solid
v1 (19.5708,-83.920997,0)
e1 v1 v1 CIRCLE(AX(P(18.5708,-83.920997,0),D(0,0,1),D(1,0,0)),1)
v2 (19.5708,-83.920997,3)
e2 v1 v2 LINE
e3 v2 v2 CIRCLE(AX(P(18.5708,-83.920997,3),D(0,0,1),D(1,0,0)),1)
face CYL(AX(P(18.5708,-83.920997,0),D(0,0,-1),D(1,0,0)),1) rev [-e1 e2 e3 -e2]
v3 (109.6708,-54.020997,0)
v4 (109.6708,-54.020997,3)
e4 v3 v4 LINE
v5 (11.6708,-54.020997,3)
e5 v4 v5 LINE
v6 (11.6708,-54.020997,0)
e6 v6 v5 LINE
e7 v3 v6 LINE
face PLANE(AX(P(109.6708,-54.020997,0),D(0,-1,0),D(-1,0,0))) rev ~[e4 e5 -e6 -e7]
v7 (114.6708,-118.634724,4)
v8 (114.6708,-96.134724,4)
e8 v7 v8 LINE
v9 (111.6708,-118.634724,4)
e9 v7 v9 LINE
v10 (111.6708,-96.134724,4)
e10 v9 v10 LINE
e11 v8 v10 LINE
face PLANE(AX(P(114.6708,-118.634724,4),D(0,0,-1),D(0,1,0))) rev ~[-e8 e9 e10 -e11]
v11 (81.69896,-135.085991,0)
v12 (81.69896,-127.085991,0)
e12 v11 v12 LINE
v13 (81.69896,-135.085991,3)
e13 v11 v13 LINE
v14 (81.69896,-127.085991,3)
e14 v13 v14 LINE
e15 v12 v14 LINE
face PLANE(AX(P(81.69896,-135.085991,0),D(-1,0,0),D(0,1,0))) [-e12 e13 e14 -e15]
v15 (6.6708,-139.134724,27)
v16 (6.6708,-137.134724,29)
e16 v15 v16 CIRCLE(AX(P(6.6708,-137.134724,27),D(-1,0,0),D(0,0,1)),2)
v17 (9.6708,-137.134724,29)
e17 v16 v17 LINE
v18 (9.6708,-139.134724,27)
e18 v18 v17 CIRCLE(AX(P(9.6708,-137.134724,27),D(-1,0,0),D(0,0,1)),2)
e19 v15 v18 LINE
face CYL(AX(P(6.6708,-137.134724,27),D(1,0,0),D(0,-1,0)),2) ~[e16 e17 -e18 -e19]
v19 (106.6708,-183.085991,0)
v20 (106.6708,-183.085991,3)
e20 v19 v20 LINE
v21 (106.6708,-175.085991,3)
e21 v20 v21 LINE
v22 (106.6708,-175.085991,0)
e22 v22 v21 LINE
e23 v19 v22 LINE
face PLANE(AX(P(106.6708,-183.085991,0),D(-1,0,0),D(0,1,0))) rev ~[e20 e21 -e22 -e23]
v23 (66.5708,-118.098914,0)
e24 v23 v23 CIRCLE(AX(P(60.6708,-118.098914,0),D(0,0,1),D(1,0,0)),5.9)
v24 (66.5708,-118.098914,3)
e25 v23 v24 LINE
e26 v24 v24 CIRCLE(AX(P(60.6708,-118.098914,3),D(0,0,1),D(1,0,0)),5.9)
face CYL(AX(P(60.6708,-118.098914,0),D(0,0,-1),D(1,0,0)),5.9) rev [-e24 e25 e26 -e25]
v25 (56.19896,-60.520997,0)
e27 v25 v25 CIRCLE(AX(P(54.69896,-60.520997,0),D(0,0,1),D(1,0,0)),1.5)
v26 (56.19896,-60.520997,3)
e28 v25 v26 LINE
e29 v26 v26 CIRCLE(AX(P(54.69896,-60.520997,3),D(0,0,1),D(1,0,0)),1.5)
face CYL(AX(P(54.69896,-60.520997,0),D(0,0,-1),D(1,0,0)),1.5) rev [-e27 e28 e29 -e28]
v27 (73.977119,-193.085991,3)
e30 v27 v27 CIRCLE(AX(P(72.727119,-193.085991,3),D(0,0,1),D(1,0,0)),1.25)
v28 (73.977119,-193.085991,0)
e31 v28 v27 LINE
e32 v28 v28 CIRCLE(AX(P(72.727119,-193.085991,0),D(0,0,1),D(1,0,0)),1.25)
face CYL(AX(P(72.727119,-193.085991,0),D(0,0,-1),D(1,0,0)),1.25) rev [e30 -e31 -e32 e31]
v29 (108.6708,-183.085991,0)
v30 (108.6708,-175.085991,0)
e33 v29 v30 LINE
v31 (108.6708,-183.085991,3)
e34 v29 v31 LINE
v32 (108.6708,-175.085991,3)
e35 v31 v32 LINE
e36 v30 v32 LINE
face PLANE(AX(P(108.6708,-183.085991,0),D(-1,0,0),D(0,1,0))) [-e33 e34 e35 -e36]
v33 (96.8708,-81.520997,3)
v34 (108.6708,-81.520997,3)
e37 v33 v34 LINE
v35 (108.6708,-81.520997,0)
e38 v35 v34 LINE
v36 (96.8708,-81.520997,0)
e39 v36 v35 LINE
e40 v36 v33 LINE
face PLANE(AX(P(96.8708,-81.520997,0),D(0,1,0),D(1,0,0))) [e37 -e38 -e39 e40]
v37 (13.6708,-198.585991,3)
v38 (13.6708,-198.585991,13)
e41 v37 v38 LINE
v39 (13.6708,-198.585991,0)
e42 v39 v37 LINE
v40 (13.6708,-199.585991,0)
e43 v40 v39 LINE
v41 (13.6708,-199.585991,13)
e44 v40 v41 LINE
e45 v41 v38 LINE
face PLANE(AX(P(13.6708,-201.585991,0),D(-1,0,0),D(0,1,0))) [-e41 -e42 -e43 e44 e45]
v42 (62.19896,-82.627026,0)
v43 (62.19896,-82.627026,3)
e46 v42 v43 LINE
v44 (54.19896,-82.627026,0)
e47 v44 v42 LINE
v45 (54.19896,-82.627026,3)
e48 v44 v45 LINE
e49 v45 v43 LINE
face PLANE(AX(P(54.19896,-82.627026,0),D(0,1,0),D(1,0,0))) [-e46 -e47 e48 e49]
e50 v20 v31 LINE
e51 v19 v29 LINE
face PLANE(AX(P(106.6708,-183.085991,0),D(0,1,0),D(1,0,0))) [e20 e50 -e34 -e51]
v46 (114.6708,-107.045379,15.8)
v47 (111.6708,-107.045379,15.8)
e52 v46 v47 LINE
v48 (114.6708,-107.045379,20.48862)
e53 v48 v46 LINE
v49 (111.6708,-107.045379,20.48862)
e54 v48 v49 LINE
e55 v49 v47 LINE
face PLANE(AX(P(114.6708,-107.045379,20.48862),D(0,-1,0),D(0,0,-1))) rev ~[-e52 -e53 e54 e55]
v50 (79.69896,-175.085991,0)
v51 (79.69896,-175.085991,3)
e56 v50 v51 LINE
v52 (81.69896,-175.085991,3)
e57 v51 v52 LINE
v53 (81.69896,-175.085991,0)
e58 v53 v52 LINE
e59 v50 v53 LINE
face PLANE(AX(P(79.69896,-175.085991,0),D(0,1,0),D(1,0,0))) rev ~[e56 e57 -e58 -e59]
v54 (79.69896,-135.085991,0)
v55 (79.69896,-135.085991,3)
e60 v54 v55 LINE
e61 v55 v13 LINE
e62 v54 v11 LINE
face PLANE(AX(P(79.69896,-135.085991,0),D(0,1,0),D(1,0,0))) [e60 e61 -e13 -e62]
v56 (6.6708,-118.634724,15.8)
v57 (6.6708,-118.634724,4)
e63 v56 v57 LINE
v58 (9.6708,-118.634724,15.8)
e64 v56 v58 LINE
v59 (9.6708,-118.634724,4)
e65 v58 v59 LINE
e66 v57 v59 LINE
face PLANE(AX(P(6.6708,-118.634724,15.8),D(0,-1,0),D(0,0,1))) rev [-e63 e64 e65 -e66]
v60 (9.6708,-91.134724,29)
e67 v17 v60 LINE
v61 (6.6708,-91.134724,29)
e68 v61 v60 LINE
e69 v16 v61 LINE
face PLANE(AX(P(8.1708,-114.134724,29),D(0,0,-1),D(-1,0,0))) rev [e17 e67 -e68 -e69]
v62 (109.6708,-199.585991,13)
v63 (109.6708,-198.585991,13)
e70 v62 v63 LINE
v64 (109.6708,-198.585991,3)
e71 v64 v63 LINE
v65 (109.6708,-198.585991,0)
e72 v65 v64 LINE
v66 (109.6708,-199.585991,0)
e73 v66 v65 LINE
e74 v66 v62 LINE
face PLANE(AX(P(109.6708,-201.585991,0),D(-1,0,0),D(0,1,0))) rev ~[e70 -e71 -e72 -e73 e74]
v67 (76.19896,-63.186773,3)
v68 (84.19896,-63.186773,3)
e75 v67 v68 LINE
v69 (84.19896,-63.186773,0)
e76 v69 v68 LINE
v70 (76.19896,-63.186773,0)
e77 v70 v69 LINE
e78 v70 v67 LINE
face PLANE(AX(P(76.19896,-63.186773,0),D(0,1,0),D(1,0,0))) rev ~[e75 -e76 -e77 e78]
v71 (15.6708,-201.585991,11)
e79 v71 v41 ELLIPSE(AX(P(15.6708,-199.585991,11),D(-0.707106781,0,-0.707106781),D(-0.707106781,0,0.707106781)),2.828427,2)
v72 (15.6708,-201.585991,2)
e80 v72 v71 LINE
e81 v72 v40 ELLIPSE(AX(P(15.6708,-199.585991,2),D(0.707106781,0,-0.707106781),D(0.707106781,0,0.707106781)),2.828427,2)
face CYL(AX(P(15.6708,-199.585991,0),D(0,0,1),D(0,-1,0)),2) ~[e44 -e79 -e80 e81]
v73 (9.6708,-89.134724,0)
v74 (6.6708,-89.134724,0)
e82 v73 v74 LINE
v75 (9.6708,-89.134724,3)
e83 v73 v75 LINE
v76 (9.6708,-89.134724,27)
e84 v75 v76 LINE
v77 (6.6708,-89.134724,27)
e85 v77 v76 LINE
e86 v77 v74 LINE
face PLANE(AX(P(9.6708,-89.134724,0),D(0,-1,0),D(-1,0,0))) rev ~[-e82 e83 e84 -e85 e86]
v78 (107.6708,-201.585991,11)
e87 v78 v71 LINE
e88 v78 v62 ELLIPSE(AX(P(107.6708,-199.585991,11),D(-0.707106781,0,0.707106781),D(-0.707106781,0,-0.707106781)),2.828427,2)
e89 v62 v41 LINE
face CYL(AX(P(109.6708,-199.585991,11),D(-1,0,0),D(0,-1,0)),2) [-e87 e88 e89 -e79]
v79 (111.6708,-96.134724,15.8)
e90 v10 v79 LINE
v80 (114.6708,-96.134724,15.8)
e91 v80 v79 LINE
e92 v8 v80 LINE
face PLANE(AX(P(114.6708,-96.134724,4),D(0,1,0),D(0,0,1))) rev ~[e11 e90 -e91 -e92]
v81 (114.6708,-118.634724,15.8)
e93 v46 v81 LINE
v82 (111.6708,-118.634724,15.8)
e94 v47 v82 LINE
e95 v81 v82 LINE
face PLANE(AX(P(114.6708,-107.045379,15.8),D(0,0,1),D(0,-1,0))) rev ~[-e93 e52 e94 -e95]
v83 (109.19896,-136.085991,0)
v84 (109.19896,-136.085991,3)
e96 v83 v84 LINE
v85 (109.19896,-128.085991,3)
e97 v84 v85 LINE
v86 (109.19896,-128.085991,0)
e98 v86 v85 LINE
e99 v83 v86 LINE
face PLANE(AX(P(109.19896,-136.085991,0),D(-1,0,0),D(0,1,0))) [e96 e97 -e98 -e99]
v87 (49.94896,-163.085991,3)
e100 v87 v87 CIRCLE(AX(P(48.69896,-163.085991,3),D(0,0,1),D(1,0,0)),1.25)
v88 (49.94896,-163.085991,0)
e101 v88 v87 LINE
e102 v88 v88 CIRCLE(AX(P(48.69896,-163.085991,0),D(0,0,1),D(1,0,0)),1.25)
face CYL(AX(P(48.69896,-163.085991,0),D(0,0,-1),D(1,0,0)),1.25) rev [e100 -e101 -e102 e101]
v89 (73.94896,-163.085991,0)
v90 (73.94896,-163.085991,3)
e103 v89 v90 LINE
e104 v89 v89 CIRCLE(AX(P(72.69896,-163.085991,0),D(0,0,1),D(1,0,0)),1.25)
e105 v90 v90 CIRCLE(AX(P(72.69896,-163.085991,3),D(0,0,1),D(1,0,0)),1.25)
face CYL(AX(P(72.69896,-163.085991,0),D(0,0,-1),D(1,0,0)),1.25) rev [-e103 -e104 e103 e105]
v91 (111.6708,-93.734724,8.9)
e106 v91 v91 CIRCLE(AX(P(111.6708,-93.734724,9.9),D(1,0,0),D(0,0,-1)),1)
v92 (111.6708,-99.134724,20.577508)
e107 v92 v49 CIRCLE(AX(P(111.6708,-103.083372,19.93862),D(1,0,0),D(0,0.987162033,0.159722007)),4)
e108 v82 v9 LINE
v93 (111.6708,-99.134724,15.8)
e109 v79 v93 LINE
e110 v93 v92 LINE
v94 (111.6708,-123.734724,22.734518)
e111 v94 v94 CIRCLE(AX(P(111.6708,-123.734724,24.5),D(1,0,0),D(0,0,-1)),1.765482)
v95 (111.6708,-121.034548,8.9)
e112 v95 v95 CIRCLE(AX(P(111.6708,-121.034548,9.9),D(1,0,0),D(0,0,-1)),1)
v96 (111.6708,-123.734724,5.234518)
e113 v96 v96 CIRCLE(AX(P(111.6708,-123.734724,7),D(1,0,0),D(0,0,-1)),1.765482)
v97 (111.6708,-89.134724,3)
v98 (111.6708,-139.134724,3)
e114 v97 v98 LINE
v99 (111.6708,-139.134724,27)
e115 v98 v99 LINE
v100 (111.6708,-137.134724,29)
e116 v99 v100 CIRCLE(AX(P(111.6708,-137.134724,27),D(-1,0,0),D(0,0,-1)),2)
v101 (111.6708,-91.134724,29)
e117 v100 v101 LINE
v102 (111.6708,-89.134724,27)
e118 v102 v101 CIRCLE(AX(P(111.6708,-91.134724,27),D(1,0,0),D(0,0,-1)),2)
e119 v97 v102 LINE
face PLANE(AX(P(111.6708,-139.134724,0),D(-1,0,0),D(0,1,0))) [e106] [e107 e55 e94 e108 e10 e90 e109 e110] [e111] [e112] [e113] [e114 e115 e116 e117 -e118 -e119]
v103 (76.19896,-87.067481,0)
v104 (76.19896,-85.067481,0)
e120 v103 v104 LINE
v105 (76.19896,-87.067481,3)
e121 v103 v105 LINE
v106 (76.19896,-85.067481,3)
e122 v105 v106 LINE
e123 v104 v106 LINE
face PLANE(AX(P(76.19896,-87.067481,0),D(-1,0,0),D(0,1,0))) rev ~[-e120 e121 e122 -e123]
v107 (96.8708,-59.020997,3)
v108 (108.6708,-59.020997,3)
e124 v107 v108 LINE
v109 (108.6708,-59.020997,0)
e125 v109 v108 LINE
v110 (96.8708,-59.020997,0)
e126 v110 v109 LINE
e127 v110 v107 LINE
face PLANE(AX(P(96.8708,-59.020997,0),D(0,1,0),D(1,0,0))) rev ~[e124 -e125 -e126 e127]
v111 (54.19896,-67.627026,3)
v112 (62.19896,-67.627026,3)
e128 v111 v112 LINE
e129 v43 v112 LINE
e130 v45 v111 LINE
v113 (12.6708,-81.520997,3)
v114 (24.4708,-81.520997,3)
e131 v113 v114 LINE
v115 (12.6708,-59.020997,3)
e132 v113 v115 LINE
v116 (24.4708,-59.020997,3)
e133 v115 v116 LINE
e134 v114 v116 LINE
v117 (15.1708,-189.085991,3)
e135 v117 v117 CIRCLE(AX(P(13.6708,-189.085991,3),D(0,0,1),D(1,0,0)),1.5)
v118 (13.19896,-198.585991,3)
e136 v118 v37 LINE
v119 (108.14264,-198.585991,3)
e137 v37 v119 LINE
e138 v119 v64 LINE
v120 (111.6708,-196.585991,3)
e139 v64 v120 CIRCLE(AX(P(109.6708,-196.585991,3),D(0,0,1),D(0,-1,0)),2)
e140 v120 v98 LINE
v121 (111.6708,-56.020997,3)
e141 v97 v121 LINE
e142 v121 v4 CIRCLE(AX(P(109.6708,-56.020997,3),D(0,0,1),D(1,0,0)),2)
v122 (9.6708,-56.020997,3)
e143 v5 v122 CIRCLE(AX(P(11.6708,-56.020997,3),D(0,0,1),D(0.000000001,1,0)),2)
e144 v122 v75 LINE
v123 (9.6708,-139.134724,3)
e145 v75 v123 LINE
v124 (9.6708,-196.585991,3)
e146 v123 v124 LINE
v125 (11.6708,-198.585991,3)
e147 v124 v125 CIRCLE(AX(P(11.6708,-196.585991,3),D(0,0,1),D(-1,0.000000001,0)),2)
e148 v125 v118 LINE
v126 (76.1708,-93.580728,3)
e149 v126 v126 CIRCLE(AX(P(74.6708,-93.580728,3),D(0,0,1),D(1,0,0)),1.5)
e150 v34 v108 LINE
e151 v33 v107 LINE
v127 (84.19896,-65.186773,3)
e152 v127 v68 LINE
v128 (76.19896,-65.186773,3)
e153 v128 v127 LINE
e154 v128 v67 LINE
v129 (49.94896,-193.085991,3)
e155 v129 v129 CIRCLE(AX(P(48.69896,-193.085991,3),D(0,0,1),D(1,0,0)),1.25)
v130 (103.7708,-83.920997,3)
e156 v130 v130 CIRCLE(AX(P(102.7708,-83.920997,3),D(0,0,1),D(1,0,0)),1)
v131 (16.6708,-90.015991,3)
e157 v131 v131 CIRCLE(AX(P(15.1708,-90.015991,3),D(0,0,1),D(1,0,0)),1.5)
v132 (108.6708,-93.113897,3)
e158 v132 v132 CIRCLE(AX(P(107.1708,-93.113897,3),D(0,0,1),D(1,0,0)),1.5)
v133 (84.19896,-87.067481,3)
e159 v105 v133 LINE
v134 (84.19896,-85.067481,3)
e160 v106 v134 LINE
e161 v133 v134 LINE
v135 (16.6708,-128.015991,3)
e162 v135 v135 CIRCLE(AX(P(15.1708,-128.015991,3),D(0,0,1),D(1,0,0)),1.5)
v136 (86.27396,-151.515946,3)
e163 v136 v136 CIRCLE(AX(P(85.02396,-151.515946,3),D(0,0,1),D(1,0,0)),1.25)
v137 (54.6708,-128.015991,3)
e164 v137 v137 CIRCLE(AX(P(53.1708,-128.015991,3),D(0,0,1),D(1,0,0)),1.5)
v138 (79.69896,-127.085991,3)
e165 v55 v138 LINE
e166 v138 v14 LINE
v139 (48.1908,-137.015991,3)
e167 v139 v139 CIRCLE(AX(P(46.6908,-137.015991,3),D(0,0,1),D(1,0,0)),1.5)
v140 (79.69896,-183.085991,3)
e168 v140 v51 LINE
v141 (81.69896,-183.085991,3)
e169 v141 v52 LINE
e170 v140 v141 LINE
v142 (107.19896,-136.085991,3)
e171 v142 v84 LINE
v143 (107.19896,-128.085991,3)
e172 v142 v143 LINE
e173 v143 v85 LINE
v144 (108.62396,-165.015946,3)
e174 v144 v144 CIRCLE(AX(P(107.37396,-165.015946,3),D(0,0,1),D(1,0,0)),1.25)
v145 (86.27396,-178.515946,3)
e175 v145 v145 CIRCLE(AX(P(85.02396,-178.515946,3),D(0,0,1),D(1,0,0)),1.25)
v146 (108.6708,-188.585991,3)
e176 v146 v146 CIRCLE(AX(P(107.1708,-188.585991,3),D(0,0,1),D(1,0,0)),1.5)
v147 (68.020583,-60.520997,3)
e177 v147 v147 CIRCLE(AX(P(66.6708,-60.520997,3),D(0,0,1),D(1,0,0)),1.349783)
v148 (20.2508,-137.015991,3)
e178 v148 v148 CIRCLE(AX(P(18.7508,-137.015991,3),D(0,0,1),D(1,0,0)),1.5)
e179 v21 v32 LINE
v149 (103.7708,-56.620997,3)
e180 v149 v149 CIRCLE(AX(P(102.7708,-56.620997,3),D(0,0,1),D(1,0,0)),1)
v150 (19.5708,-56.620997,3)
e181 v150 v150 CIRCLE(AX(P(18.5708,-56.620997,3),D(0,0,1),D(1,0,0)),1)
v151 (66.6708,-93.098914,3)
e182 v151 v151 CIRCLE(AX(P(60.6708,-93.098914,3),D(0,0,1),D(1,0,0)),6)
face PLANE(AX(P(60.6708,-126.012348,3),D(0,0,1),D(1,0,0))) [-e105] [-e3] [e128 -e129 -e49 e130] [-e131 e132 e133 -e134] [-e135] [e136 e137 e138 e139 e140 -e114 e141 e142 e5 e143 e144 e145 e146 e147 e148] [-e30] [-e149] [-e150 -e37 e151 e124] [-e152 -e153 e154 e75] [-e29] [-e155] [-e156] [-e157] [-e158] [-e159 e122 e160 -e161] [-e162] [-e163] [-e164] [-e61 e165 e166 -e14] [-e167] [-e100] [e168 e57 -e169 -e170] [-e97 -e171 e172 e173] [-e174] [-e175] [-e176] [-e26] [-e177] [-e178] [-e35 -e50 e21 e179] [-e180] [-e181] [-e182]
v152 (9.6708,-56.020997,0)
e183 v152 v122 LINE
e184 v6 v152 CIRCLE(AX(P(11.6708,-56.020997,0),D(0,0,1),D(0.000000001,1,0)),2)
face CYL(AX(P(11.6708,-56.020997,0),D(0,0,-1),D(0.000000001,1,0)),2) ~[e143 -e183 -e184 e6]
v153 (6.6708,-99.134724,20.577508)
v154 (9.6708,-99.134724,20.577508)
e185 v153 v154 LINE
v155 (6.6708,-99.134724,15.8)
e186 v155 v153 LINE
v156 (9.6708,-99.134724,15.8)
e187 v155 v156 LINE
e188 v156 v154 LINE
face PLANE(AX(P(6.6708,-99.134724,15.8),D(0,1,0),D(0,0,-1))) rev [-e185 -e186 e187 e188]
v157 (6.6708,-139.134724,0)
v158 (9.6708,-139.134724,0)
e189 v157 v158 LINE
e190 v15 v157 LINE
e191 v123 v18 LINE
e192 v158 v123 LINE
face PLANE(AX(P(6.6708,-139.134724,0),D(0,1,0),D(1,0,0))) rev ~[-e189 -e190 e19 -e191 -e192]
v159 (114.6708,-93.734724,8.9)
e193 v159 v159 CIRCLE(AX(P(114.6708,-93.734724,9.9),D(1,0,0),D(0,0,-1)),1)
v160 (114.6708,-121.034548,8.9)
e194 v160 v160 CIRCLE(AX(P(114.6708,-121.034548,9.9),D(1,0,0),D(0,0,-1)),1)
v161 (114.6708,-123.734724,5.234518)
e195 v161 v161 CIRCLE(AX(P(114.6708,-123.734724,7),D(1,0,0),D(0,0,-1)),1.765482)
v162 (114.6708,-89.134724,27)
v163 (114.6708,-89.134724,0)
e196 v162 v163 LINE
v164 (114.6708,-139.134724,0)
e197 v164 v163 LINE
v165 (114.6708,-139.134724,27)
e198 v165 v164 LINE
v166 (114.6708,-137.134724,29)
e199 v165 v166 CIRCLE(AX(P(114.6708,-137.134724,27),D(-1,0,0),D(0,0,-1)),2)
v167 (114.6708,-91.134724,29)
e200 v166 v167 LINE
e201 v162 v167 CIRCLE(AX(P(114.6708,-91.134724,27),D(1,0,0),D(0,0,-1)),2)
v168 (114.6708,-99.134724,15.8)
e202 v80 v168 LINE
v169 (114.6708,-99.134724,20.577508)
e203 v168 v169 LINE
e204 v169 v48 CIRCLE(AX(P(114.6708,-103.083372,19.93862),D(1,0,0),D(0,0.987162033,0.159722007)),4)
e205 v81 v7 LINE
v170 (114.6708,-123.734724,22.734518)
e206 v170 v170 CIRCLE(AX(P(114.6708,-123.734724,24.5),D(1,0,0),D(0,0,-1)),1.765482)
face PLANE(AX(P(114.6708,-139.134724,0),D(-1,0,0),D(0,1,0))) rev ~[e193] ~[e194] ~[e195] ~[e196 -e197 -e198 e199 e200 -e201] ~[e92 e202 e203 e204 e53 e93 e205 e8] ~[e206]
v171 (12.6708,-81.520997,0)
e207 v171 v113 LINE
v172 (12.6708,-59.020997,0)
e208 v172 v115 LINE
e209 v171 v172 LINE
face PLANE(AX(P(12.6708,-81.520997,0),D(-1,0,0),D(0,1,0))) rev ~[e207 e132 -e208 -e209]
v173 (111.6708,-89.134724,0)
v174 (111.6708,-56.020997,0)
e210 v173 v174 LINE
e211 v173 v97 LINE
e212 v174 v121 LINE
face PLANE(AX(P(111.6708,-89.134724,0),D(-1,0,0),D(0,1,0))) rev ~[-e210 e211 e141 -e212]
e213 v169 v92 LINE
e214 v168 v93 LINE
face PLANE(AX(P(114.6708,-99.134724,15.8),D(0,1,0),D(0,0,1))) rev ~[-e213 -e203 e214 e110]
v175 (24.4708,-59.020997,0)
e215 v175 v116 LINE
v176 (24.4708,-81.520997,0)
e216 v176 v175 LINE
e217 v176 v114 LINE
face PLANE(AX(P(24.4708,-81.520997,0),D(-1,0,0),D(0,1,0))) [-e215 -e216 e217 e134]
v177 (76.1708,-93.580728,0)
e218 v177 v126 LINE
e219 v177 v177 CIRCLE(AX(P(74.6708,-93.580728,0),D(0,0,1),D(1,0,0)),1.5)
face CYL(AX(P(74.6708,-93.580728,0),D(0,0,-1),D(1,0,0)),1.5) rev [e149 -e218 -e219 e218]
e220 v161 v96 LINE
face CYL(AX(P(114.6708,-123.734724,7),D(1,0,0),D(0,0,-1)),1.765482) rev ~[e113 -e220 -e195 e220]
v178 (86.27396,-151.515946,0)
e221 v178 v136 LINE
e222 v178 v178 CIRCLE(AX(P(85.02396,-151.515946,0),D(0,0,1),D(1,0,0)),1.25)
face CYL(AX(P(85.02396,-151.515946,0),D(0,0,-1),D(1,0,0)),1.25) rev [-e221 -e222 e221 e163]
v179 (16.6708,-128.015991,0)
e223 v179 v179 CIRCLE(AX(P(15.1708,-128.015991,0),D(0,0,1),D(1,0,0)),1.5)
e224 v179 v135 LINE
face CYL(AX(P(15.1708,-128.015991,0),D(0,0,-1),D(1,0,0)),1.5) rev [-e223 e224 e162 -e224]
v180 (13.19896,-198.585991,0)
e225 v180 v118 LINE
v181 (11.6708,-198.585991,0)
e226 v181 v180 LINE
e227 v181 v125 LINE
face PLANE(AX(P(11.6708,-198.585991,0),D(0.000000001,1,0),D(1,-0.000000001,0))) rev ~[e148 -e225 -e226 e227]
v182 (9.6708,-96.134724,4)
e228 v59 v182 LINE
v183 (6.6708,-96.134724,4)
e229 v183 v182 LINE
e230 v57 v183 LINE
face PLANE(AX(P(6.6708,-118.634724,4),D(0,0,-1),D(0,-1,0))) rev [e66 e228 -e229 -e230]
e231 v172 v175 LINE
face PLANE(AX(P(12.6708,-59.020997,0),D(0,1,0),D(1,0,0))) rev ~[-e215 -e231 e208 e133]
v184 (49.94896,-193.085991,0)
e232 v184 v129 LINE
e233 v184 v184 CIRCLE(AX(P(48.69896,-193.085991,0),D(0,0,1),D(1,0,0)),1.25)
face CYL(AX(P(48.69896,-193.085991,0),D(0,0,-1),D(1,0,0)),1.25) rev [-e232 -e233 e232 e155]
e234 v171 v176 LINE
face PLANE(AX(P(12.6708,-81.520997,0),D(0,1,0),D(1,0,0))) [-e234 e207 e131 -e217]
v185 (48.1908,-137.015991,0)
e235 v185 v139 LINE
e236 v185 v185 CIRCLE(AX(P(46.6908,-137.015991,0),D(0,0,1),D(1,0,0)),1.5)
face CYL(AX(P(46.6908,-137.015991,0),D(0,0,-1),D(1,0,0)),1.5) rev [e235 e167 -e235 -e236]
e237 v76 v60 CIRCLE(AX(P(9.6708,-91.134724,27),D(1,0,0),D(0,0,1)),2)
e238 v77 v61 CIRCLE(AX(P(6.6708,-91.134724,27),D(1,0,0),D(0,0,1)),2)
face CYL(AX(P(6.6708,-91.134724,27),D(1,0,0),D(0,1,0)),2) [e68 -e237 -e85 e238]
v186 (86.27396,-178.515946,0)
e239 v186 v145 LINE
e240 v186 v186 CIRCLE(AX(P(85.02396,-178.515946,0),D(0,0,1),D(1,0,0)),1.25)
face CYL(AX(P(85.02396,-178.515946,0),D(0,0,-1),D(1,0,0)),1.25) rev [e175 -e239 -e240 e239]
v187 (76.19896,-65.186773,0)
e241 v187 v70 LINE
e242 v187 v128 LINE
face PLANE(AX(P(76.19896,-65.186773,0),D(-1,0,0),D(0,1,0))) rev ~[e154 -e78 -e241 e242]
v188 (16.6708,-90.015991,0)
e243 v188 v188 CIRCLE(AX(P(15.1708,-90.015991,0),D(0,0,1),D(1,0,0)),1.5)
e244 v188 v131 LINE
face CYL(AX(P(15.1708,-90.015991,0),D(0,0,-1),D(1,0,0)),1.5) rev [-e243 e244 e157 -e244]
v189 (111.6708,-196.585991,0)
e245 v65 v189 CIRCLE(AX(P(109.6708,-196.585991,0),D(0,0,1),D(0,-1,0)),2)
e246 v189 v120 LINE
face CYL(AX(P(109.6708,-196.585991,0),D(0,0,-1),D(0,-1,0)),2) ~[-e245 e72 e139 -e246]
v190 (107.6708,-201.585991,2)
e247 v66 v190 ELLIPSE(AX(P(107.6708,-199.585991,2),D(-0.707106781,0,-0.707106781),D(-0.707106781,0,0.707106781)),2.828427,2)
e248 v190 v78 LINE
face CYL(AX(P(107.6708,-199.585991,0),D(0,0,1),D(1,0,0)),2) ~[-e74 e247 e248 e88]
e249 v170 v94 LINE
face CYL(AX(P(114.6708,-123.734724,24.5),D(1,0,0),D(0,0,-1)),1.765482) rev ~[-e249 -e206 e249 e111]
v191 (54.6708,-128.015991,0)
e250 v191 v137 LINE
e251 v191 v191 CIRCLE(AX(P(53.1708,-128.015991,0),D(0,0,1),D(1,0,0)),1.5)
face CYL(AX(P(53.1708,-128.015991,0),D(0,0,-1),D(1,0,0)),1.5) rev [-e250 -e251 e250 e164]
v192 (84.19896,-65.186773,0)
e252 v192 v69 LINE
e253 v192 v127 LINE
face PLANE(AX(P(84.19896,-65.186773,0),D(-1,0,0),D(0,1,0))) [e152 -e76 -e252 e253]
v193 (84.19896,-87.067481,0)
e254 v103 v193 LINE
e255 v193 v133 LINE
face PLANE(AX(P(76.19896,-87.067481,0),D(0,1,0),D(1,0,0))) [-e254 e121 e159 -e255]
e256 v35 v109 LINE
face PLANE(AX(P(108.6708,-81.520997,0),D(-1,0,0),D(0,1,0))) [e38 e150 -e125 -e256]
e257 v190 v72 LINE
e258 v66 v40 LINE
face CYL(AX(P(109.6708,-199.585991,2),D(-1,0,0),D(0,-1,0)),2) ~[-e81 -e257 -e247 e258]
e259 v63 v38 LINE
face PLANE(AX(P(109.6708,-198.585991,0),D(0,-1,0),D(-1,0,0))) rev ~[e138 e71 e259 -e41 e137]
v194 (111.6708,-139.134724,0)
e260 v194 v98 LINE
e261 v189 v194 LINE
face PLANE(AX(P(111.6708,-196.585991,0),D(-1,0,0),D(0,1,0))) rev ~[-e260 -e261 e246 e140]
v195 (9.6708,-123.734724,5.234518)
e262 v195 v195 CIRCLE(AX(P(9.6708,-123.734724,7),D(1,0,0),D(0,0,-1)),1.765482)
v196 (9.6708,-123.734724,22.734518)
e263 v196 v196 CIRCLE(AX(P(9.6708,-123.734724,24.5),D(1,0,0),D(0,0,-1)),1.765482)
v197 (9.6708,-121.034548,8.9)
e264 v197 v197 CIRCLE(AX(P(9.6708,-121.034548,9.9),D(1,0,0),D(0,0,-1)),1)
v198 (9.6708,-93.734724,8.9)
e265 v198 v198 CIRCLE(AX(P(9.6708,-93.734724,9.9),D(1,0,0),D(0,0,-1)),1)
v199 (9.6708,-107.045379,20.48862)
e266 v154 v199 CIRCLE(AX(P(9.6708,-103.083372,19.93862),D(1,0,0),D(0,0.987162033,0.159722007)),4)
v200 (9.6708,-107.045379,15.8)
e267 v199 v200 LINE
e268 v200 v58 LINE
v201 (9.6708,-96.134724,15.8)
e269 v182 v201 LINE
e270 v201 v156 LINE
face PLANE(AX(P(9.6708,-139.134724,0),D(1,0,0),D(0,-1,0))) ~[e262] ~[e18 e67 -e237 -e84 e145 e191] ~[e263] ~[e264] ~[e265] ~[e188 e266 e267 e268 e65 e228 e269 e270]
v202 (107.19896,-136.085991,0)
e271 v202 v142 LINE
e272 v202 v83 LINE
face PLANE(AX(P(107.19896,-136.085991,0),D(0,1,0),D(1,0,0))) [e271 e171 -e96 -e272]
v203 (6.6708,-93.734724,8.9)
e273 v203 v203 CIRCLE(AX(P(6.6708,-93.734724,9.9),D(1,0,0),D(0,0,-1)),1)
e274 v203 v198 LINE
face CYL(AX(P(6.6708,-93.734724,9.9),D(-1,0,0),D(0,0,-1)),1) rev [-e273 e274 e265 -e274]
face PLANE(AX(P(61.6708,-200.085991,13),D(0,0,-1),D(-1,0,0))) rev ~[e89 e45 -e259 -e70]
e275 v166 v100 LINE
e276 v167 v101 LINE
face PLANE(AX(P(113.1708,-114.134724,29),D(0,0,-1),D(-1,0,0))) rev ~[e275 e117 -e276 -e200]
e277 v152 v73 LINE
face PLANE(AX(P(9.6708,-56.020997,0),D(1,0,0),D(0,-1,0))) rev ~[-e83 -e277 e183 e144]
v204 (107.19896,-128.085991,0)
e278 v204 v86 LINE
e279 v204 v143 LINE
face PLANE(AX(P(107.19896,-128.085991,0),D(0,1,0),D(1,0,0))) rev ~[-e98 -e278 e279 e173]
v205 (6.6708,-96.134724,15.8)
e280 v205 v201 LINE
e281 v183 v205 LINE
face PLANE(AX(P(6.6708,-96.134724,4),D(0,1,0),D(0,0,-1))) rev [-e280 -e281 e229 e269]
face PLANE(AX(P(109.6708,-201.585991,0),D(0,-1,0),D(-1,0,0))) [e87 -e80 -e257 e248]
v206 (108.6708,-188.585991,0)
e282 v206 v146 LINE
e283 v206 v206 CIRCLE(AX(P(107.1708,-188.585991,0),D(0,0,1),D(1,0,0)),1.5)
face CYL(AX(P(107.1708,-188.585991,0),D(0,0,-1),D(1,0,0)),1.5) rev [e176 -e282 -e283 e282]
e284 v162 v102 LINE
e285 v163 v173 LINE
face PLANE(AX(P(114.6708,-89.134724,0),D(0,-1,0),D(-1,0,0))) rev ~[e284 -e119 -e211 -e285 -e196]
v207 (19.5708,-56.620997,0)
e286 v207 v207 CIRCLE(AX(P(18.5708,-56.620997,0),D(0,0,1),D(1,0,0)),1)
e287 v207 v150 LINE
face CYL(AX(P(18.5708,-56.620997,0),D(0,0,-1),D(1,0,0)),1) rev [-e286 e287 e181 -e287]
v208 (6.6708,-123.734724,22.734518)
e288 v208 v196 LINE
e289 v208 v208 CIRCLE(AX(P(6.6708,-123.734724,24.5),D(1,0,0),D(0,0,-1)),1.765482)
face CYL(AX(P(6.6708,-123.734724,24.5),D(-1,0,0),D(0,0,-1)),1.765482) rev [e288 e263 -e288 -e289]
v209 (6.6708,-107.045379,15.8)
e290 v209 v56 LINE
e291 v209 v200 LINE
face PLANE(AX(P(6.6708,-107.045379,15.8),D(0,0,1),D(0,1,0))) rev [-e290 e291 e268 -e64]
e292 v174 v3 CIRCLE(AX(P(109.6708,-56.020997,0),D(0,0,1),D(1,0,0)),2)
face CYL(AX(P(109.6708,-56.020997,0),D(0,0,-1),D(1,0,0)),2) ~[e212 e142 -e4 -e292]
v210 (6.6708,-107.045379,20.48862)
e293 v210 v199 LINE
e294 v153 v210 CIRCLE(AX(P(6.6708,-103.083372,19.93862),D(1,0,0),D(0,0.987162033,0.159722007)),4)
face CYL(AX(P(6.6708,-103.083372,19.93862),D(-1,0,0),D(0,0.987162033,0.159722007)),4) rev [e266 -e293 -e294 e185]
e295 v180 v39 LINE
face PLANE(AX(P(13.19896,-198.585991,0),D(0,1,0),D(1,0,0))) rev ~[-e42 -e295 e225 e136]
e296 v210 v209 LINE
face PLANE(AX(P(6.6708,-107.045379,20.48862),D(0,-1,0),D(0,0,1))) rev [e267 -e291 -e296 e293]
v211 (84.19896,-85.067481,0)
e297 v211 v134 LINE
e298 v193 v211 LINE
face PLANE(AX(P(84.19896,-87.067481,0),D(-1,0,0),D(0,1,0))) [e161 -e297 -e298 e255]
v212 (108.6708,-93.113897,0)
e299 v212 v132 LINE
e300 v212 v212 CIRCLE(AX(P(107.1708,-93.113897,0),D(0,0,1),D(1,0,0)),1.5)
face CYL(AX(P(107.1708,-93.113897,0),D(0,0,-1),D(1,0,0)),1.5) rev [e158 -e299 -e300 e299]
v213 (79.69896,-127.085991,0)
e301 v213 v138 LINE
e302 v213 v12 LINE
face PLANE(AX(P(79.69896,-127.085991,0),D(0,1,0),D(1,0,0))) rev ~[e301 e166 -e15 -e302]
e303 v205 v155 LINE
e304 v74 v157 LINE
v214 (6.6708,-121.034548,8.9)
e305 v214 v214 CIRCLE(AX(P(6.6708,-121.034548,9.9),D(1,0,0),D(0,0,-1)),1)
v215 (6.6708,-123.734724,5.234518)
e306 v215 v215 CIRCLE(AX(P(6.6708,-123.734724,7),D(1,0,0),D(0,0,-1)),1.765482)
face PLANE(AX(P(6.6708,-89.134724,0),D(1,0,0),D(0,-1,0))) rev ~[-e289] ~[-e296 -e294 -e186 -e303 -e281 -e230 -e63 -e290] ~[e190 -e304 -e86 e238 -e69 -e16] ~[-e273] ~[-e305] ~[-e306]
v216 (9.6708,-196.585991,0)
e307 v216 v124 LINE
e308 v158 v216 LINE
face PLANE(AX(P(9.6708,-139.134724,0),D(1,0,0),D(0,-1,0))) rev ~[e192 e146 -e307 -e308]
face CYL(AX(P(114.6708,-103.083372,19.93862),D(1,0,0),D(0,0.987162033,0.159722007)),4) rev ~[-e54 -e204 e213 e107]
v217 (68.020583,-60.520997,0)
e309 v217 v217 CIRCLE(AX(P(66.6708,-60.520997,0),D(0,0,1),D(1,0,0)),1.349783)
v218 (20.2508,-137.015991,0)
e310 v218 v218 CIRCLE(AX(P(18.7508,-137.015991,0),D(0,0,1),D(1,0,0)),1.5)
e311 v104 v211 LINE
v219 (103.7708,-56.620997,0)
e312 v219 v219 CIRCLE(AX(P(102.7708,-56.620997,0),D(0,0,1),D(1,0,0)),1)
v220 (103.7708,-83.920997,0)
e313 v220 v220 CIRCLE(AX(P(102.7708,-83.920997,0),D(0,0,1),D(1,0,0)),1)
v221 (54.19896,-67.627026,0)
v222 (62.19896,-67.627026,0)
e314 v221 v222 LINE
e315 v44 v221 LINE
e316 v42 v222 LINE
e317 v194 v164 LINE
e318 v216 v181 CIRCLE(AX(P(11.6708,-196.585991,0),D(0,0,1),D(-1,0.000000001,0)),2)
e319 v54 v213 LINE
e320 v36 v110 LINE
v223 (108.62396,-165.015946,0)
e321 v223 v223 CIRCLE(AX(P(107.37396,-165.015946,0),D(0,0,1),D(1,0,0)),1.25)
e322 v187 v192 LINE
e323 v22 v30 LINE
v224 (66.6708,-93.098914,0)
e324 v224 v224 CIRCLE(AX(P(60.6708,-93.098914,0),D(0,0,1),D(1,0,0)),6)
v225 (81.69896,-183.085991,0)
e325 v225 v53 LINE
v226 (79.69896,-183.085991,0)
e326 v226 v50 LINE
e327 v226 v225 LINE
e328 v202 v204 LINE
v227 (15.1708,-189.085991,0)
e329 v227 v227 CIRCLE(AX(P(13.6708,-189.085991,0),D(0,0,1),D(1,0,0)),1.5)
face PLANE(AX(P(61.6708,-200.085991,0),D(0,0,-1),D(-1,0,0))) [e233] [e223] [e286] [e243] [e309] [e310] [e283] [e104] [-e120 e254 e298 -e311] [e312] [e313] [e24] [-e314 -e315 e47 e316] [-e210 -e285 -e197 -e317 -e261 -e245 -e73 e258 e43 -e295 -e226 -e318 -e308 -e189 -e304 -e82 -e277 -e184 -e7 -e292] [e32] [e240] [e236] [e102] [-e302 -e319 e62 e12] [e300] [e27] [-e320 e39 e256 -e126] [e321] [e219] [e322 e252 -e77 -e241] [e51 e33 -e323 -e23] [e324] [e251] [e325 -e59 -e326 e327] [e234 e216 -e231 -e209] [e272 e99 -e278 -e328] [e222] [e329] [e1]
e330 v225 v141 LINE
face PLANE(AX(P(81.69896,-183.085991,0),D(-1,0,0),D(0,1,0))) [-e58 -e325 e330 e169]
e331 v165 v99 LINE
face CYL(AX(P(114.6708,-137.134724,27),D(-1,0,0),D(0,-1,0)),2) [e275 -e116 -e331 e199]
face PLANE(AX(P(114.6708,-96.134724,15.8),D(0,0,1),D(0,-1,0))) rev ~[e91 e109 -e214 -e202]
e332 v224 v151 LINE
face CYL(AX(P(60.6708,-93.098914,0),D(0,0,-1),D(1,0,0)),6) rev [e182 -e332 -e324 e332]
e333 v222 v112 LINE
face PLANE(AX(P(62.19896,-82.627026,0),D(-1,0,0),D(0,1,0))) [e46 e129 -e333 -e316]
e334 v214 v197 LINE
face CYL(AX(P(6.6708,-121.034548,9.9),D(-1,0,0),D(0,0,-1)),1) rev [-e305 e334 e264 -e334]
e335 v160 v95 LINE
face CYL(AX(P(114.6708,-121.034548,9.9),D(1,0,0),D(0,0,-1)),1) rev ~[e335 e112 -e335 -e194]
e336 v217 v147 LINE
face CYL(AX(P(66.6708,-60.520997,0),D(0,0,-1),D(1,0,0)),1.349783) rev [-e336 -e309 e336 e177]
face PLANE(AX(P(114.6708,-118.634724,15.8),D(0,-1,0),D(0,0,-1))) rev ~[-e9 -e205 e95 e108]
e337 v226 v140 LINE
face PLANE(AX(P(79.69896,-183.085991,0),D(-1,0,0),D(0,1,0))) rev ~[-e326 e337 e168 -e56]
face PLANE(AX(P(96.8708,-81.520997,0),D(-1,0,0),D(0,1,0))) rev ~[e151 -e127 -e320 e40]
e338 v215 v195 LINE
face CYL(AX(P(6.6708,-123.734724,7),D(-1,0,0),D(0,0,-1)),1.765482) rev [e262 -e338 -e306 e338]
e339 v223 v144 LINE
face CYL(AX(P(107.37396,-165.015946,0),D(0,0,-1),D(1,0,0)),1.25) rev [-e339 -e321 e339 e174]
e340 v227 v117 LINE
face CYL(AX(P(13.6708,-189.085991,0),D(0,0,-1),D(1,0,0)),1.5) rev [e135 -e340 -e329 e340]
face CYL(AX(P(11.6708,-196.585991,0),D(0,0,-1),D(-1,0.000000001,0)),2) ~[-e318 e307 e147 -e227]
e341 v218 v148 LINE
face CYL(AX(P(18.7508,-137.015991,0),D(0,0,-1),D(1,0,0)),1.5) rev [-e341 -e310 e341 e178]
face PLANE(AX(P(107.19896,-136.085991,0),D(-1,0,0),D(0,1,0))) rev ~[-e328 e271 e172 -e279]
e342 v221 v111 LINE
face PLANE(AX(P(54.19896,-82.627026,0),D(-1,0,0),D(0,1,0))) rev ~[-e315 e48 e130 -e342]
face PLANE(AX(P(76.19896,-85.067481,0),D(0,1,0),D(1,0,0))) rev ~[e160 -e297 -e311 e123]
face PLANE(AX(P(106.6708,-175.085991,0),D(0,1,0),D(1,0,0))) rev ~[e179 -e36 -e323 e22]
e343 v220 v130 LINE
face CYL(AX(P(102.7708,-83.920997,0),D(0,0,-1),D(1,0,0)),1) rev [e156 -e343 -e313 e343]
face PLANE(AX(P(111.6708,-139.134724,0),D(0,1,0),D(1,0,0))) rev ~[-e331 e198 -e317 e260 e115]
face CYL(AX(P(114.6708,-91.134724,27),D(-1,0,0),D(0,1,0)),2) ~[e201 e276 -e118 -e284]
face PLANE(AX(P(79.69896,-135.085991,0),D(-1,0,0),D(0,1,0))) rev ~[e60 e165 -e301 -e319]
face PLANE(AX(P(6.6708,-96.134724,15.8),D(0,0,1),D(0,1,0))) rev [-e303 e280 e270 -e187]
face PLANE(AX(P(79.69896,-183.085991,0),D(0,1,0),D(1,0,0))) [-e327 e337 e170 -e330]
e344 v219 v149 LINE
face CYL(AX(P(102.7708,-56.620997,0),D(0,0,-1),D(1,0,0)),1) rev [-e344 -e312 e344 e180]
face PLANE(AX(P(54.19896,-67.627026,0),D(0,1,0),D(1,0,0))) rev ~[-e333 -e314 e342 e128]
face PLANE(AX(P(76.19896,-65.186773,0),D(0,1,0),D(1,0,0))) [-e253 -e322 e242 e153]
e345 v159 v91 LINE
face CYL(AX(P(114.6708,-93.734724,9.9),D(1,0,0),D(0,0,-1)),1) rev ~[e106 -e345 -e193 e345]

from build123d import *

# Parameters (mm, degrees)
MODEL_R                  = 1.5
MODEL_R_2                = 1
MODEL_R_3                = 6
MODEL_R_4                = 1.25
MODEL_R_5                = 1.349782665
MODEL_R_6                = 5.9
MODEL_W                  = 8
MODEL_H                  = 15
MODEL_H_2                = 2
MODEL_W_2                = 11.8
MODEL_H_3                = 22.5
MODEL_W_3                = 2
MODEL_H_4                = 8
MODEL_H_5                = 7.999999999
SALIENTE_EXTRUIR1_DEPTH  = 3
CROQUIS2_W               = 3
CROQUIS2_H               = 50
SALIENTE_EXTRUIR2_DEPTH  = 29
CROQUIS3_R               = 1.765481919
CROQUIS3_R_2             = 1
CORTAR_EXTRUIR1_DEPTH    = 3
REDONDEO1_R              = 2
REDONDEO1_OF_SIMETR_A1_R = 2
CROQUIS4_W               = 96
CROQUIS4_H               = 3
SALIENTE_EXTRUIR3_DEPTH  = 13
REDONDEO2_R              = 2


with BuildPart() as part:
    # Model → Saliente-Extruir1 (new body)
    with BuildSketch(Plane.XY):
        with BuildLine():
            Line((13.198959583, -198.58599061), (108.142640241, -198.58599061))
            Line((108.142640241, -198.58599061), (109.670799912, -198.585990609))
            ThreePointArc((109.670799912, -198.585990609), (111.085013474, -198.000204172), (111.670799912, -196.58599061))
            Line((111.670799912, -196.58599061), (111.670799912, -139.134723681))
            Line((111.670799912, -139.134723681), (114.670799912, -139.134723681))
            Line((114.670799912, -139.134723681), (114.670799912, -89.134723681))
            Line((114.670799912, -89.134723681), (111.670799912, -89.134723681))
            Line((111.670799912, -89.134723681), (111.670799912, -56.020997464))
            ThreePointArc((111.670799912, -56.020997464), (111.085013474, -54.606783901), (109.670799912, -54.020997464))
            Line((109.670799912, -54.020997464), (77.898959582, -54.020997464))
            Line((77.898959582, -54.020997464), (43.555278924, -54.020997464))
            Line((43.555278924, -54.020997464), (11.670799912, -54.020997464))
            ThreePointArc((11.670799912, -54.020997464), (10.256586349, -54.606783901), (9.670799912, -56.020997464))
            Line((9.670799912, -56.020997464), (9.670799912, -89.134723681))
            Line((9.670799912, -89.134723681), (6.670799912, -89.134723681))
            Line((6.670799912, -89.134723681), (6.670799912, -139.134723681))
            Line((6.670799912, -139.134723681), (9.670799912, -139.134723681))
            Line((9.670799912, -139.134723681), (9.670799912, -196.585990609))
            ThreePointArc((9.670799912, -196.585990609), (10.256586349, -198.000204172), (11.670799912, -198.585990609))
            Line((11.670799912, -198.585990609), (13.198959583, -198.58599061))
        make_face()
        with Locations((107.170799912, -93.113896801)):
            Circle(MODEL_R, mode=Mode.SUBTRACT)
        with Locations((102.770799912, -56.620997464)):
            Circle(MODEL_R_2, mode=Mode.SUBTRACT)
        with Locations((102.770799912, -83.920997464)):
            Circle(MODEL_R_2, mode=Mode.SUBTRACT)
        with Locations((18.570799912, -83.920997464)):
            Circle(MODEL_R_2, mode=Mode.SUBTRACT)
        with Locations((18.570799912, -56.620997464)):
            Circle(MODEL_R_2, mode=Mode.SUBTRACT)
        with Locations((60.670799912, -93.098913634)):
            Circle(MODEL_R_3, mode=Mode.SUBTRACT)
        with Locations((15.170799912, -90.015990609)):
            Circle(MODEL_R, mode=Mode.SUBTRACT)
        with Locations((46.690799912, -137.01599061)):
            Circle(MODEL_R, mode=Mode.SUBTRACT)
        with Locations((18.750799912, -137.01599061)):
            Circle(MODEL_R, mode=Mode.SUBTRACT)
        with Locations((13.670799912, -189.085990609)):
            Circle(MODEL_R, mode=Mode.SUBTRACT)
        with Locations((53.170799912, -128.015990609)):
            Circle(MODEL_R, mode=Mode.SUBTRACT)
        with Locations((15.170799912, -128.015990609)):
            Circle(MODEL_R, mode=Mode.SUBTRACT)
        with Locations((107.373959583, -165.015945956)):
            Circle(MODEL_R_4, mode=Mode.SUBTRACT)
        with Locations((85.023959582, -151.515945956)):
            Circle(MODEL_R_4, mode=Mode.SUBTRACT)
        with Locations((85.023959582, -178.515945956)):
            Circle(MODEL_R_4, mode=Mode.SUBTRACT)
        with Locations((66.670799912, -60.520997464)):
            Circle(MODEL_R_5, mode=Mode.SUBTRACT)
        with Locations((107.170799912, -188.585990609)):
            Circle(MODEL_R, mode=Mode.SUBTRACT)
        with Locations((74.670799912, -93.580727597)):
            Circle(MODEL_R, mode=Mode.SUBTRACT)
        with Locations((60.670799912, -118.098913634)):
            Circle(MODEL_R_6, mode=Mode.SUBTRACT)
        with Locations((54.698959583, -60.520997464)):
            Circle(MODEL_R, mode=Mode.SUBTRACT)
        with Locations((48.698959583, -193.085990609)):
            Circle(MODEL_R_4, mode=Mode.SUBTRACT)
        with Locations((72.727119253, -193.085990609)):
            Circle(MODEL_R_4, mode=Mode.SUBTRACT)
        with Locations((72.698959582, -163.085990609)):
            Circle(MODEL_R_4, mode=Mode.SUBTRACT)
        with Locations((48.698959583, -163.085990609)):
            Circle(MODEL_R_4, mode=Mode.SUBTRACT)
        with Locations((58.198959582, -75.127025732)):
            Rectangle(MODEL_W, MODEL_H, mode=Mode.SUBTRACT)
        with Locations((80.198959582, -64.186772947)):
            Rectangle(MODEL_W, MODEL_H_2, mode=Mode.SUBTRACT)
        with Locations((80.198959582, -86.067481229)):
            Rectangle(MODEL_W, MODEL_H_2, mode=Mode.SUBTRACT)
        with Locations((102.770799912, -70.270997464)):
            Rectangle(MODEL_W_2, MODEL_H_3, mode=Mode.SUBTRACT)
        with Locations((18.570799912, -70.270997464)):
            Rectangle(MODEL_W_2, MODEL_H_3, mode=Mode.SUBTRACT)
        with Locations((80.698959582, -179.08599061)):
            Rectangle(MODEL_W_3, MODEL_H_4, mode=Mode.SUBTRACT)
        with Locations((107.670799912, -179.08599061)):
            Rectangle(MODEL_W_3, MODEL_H_5, mode=Mode.SUBTRACT)
        with Locations((80.698959582, -131.08599061)):
            Rectangle(MODEL_W_3, MODEL_H_4, mode=Mode.SUBTRACT)
        with Locations((108.198959582, -132.085990609)):
            Rectangle(MODEL_W_3, MODEL_H_4, mode=Mode.SUBTRACT)
    extrude(amount=SALIENTE_EXTRUIR1_DEPTH)

    # Croquis2 → Saliente-Extruir2 (add)
    with BuildSketch(Plane(origin=(0, 0, 0), x_dir=(-1, 0, 0), z_dir=(0, 0, -1))):
        with Locations((-113.170799912, -114.134723681)):
            Rectangle(CROQUIS2_W, CROQUIS2_H)
    saliente_extruir2 = extrude(amount=-SALIENTE_EXTRUIR2_DEPTH)

    # Croquis3 → Cortar-Extruir1 (cut)
    with BuildSketch(Plane(origin=(114.670799912, 0, 0), x_dir=(0, 0, -1), z_dir=(1, 0, 0))):
        with Locations((-24.5, -123.734723681)):
            Circle(CROQUIS3_R)
        with Locations((-7, -123.734723681)):
            Circle(CROQUIS3_R)
        with Locations((-9.9, -121.034548102)):
            Circle(CROQUIS3_R_2)
        with Locations((-9.9, -93.734723681)):
            Circle(CROQUIS3_R_2)
        with BuildLine():
            Line((-4, -118.634723681), (-4, -96.134723681))
            Line((-4, -96.134723681), (-15.8, -96.134723681))
            Line((-15.8, -96.134723681), (-15.8, -99.134723681))
            Line((-15.8, -99.134723681), (-20.577507922, -99.134723681))
            ThreePointArc((-20.577507922, -99.134723681), (-23.938367399, -103.128314954), (-20.488619892, -107.045378882))
            Line((-20.488619892, -107.045378882), (-15.8, -107.045378882))
            Line((-15.8, -107.045378882), (-15.8, -118.634723681))
            Line((-15.8, -118.634723681), (-4, -118.634723681))
        make_face()
    cortar_extruir1 = extrude(amount=-CORTAR_EXTRUIR1_DEPTH, mode=Mode.SUBTRACT)

    # Redondeo1
    redondeo1_edges = [part.edges().sort_by_distance(p)[0] for p in [
        (113.170799912, -89.134723681, 29),
        (113.170799912, -139.134723681, 29),
    ]]
    fillet(redondeo1_edges, radius=REDONDEO1_R)

    # Simetría1: Saliente-Extruir2, Cortar-Extruir1 across plane
    add(saliente_extruir2.mirror(Plane(origin=(60.670799912, 0, 0), x_dir=(0, 0, 1), z_dir=(1, 0, 0))))
    add(cortar_extruir1.mirror(Plane(origin=(60.670799912, 0, 0), x_dir=(0, 0, 1), z_dir=(1, 0, 0))), mode=Mode.SUBTRACT)

    # Redondeo1 of Simetría1
    redondeo1_of_simetr_a1_edges = [part.edges().sort_by_distance(p)[0] for p in [
        (8.170799912, -89.134723681, 29),
        (8.170799912, -139.134723681, 29),
    ]]
    fillet(redondeo1_of_simetr_a1_edges, radius=REDONDEO1_OF_SIMETR_A1_R)

    # Croquis4 → Saliente-Extruir3 (add)
    with BuildSketch(Plane(origin=(0, 0, 0), x_dir=(-1, 0, 0), z_dir=(0, 0, -1))):
        with Locations((-61.670799912, -200.085990609)):
            Rectangle(CROQUIS4_W, CROQUIS4_H)
    extrude(amount=-SALIENTE_EXTRUIR3_DEPTH)

    # Redondeo2
    redondeo2_edges = [part.edges().sort_by_distance(p)[0] for p in [
        (61.670799912, -201.585990609, 13),
        (13.670799912, -201.585990609, 6.5),
        (109.670799912, -201.585990609, 6.5),
        (61.670799912, -201.585990609, 0),
    ]]
    fillet(redondeo2_edges, radius=REDONDEO2_R)


solid = part.part
